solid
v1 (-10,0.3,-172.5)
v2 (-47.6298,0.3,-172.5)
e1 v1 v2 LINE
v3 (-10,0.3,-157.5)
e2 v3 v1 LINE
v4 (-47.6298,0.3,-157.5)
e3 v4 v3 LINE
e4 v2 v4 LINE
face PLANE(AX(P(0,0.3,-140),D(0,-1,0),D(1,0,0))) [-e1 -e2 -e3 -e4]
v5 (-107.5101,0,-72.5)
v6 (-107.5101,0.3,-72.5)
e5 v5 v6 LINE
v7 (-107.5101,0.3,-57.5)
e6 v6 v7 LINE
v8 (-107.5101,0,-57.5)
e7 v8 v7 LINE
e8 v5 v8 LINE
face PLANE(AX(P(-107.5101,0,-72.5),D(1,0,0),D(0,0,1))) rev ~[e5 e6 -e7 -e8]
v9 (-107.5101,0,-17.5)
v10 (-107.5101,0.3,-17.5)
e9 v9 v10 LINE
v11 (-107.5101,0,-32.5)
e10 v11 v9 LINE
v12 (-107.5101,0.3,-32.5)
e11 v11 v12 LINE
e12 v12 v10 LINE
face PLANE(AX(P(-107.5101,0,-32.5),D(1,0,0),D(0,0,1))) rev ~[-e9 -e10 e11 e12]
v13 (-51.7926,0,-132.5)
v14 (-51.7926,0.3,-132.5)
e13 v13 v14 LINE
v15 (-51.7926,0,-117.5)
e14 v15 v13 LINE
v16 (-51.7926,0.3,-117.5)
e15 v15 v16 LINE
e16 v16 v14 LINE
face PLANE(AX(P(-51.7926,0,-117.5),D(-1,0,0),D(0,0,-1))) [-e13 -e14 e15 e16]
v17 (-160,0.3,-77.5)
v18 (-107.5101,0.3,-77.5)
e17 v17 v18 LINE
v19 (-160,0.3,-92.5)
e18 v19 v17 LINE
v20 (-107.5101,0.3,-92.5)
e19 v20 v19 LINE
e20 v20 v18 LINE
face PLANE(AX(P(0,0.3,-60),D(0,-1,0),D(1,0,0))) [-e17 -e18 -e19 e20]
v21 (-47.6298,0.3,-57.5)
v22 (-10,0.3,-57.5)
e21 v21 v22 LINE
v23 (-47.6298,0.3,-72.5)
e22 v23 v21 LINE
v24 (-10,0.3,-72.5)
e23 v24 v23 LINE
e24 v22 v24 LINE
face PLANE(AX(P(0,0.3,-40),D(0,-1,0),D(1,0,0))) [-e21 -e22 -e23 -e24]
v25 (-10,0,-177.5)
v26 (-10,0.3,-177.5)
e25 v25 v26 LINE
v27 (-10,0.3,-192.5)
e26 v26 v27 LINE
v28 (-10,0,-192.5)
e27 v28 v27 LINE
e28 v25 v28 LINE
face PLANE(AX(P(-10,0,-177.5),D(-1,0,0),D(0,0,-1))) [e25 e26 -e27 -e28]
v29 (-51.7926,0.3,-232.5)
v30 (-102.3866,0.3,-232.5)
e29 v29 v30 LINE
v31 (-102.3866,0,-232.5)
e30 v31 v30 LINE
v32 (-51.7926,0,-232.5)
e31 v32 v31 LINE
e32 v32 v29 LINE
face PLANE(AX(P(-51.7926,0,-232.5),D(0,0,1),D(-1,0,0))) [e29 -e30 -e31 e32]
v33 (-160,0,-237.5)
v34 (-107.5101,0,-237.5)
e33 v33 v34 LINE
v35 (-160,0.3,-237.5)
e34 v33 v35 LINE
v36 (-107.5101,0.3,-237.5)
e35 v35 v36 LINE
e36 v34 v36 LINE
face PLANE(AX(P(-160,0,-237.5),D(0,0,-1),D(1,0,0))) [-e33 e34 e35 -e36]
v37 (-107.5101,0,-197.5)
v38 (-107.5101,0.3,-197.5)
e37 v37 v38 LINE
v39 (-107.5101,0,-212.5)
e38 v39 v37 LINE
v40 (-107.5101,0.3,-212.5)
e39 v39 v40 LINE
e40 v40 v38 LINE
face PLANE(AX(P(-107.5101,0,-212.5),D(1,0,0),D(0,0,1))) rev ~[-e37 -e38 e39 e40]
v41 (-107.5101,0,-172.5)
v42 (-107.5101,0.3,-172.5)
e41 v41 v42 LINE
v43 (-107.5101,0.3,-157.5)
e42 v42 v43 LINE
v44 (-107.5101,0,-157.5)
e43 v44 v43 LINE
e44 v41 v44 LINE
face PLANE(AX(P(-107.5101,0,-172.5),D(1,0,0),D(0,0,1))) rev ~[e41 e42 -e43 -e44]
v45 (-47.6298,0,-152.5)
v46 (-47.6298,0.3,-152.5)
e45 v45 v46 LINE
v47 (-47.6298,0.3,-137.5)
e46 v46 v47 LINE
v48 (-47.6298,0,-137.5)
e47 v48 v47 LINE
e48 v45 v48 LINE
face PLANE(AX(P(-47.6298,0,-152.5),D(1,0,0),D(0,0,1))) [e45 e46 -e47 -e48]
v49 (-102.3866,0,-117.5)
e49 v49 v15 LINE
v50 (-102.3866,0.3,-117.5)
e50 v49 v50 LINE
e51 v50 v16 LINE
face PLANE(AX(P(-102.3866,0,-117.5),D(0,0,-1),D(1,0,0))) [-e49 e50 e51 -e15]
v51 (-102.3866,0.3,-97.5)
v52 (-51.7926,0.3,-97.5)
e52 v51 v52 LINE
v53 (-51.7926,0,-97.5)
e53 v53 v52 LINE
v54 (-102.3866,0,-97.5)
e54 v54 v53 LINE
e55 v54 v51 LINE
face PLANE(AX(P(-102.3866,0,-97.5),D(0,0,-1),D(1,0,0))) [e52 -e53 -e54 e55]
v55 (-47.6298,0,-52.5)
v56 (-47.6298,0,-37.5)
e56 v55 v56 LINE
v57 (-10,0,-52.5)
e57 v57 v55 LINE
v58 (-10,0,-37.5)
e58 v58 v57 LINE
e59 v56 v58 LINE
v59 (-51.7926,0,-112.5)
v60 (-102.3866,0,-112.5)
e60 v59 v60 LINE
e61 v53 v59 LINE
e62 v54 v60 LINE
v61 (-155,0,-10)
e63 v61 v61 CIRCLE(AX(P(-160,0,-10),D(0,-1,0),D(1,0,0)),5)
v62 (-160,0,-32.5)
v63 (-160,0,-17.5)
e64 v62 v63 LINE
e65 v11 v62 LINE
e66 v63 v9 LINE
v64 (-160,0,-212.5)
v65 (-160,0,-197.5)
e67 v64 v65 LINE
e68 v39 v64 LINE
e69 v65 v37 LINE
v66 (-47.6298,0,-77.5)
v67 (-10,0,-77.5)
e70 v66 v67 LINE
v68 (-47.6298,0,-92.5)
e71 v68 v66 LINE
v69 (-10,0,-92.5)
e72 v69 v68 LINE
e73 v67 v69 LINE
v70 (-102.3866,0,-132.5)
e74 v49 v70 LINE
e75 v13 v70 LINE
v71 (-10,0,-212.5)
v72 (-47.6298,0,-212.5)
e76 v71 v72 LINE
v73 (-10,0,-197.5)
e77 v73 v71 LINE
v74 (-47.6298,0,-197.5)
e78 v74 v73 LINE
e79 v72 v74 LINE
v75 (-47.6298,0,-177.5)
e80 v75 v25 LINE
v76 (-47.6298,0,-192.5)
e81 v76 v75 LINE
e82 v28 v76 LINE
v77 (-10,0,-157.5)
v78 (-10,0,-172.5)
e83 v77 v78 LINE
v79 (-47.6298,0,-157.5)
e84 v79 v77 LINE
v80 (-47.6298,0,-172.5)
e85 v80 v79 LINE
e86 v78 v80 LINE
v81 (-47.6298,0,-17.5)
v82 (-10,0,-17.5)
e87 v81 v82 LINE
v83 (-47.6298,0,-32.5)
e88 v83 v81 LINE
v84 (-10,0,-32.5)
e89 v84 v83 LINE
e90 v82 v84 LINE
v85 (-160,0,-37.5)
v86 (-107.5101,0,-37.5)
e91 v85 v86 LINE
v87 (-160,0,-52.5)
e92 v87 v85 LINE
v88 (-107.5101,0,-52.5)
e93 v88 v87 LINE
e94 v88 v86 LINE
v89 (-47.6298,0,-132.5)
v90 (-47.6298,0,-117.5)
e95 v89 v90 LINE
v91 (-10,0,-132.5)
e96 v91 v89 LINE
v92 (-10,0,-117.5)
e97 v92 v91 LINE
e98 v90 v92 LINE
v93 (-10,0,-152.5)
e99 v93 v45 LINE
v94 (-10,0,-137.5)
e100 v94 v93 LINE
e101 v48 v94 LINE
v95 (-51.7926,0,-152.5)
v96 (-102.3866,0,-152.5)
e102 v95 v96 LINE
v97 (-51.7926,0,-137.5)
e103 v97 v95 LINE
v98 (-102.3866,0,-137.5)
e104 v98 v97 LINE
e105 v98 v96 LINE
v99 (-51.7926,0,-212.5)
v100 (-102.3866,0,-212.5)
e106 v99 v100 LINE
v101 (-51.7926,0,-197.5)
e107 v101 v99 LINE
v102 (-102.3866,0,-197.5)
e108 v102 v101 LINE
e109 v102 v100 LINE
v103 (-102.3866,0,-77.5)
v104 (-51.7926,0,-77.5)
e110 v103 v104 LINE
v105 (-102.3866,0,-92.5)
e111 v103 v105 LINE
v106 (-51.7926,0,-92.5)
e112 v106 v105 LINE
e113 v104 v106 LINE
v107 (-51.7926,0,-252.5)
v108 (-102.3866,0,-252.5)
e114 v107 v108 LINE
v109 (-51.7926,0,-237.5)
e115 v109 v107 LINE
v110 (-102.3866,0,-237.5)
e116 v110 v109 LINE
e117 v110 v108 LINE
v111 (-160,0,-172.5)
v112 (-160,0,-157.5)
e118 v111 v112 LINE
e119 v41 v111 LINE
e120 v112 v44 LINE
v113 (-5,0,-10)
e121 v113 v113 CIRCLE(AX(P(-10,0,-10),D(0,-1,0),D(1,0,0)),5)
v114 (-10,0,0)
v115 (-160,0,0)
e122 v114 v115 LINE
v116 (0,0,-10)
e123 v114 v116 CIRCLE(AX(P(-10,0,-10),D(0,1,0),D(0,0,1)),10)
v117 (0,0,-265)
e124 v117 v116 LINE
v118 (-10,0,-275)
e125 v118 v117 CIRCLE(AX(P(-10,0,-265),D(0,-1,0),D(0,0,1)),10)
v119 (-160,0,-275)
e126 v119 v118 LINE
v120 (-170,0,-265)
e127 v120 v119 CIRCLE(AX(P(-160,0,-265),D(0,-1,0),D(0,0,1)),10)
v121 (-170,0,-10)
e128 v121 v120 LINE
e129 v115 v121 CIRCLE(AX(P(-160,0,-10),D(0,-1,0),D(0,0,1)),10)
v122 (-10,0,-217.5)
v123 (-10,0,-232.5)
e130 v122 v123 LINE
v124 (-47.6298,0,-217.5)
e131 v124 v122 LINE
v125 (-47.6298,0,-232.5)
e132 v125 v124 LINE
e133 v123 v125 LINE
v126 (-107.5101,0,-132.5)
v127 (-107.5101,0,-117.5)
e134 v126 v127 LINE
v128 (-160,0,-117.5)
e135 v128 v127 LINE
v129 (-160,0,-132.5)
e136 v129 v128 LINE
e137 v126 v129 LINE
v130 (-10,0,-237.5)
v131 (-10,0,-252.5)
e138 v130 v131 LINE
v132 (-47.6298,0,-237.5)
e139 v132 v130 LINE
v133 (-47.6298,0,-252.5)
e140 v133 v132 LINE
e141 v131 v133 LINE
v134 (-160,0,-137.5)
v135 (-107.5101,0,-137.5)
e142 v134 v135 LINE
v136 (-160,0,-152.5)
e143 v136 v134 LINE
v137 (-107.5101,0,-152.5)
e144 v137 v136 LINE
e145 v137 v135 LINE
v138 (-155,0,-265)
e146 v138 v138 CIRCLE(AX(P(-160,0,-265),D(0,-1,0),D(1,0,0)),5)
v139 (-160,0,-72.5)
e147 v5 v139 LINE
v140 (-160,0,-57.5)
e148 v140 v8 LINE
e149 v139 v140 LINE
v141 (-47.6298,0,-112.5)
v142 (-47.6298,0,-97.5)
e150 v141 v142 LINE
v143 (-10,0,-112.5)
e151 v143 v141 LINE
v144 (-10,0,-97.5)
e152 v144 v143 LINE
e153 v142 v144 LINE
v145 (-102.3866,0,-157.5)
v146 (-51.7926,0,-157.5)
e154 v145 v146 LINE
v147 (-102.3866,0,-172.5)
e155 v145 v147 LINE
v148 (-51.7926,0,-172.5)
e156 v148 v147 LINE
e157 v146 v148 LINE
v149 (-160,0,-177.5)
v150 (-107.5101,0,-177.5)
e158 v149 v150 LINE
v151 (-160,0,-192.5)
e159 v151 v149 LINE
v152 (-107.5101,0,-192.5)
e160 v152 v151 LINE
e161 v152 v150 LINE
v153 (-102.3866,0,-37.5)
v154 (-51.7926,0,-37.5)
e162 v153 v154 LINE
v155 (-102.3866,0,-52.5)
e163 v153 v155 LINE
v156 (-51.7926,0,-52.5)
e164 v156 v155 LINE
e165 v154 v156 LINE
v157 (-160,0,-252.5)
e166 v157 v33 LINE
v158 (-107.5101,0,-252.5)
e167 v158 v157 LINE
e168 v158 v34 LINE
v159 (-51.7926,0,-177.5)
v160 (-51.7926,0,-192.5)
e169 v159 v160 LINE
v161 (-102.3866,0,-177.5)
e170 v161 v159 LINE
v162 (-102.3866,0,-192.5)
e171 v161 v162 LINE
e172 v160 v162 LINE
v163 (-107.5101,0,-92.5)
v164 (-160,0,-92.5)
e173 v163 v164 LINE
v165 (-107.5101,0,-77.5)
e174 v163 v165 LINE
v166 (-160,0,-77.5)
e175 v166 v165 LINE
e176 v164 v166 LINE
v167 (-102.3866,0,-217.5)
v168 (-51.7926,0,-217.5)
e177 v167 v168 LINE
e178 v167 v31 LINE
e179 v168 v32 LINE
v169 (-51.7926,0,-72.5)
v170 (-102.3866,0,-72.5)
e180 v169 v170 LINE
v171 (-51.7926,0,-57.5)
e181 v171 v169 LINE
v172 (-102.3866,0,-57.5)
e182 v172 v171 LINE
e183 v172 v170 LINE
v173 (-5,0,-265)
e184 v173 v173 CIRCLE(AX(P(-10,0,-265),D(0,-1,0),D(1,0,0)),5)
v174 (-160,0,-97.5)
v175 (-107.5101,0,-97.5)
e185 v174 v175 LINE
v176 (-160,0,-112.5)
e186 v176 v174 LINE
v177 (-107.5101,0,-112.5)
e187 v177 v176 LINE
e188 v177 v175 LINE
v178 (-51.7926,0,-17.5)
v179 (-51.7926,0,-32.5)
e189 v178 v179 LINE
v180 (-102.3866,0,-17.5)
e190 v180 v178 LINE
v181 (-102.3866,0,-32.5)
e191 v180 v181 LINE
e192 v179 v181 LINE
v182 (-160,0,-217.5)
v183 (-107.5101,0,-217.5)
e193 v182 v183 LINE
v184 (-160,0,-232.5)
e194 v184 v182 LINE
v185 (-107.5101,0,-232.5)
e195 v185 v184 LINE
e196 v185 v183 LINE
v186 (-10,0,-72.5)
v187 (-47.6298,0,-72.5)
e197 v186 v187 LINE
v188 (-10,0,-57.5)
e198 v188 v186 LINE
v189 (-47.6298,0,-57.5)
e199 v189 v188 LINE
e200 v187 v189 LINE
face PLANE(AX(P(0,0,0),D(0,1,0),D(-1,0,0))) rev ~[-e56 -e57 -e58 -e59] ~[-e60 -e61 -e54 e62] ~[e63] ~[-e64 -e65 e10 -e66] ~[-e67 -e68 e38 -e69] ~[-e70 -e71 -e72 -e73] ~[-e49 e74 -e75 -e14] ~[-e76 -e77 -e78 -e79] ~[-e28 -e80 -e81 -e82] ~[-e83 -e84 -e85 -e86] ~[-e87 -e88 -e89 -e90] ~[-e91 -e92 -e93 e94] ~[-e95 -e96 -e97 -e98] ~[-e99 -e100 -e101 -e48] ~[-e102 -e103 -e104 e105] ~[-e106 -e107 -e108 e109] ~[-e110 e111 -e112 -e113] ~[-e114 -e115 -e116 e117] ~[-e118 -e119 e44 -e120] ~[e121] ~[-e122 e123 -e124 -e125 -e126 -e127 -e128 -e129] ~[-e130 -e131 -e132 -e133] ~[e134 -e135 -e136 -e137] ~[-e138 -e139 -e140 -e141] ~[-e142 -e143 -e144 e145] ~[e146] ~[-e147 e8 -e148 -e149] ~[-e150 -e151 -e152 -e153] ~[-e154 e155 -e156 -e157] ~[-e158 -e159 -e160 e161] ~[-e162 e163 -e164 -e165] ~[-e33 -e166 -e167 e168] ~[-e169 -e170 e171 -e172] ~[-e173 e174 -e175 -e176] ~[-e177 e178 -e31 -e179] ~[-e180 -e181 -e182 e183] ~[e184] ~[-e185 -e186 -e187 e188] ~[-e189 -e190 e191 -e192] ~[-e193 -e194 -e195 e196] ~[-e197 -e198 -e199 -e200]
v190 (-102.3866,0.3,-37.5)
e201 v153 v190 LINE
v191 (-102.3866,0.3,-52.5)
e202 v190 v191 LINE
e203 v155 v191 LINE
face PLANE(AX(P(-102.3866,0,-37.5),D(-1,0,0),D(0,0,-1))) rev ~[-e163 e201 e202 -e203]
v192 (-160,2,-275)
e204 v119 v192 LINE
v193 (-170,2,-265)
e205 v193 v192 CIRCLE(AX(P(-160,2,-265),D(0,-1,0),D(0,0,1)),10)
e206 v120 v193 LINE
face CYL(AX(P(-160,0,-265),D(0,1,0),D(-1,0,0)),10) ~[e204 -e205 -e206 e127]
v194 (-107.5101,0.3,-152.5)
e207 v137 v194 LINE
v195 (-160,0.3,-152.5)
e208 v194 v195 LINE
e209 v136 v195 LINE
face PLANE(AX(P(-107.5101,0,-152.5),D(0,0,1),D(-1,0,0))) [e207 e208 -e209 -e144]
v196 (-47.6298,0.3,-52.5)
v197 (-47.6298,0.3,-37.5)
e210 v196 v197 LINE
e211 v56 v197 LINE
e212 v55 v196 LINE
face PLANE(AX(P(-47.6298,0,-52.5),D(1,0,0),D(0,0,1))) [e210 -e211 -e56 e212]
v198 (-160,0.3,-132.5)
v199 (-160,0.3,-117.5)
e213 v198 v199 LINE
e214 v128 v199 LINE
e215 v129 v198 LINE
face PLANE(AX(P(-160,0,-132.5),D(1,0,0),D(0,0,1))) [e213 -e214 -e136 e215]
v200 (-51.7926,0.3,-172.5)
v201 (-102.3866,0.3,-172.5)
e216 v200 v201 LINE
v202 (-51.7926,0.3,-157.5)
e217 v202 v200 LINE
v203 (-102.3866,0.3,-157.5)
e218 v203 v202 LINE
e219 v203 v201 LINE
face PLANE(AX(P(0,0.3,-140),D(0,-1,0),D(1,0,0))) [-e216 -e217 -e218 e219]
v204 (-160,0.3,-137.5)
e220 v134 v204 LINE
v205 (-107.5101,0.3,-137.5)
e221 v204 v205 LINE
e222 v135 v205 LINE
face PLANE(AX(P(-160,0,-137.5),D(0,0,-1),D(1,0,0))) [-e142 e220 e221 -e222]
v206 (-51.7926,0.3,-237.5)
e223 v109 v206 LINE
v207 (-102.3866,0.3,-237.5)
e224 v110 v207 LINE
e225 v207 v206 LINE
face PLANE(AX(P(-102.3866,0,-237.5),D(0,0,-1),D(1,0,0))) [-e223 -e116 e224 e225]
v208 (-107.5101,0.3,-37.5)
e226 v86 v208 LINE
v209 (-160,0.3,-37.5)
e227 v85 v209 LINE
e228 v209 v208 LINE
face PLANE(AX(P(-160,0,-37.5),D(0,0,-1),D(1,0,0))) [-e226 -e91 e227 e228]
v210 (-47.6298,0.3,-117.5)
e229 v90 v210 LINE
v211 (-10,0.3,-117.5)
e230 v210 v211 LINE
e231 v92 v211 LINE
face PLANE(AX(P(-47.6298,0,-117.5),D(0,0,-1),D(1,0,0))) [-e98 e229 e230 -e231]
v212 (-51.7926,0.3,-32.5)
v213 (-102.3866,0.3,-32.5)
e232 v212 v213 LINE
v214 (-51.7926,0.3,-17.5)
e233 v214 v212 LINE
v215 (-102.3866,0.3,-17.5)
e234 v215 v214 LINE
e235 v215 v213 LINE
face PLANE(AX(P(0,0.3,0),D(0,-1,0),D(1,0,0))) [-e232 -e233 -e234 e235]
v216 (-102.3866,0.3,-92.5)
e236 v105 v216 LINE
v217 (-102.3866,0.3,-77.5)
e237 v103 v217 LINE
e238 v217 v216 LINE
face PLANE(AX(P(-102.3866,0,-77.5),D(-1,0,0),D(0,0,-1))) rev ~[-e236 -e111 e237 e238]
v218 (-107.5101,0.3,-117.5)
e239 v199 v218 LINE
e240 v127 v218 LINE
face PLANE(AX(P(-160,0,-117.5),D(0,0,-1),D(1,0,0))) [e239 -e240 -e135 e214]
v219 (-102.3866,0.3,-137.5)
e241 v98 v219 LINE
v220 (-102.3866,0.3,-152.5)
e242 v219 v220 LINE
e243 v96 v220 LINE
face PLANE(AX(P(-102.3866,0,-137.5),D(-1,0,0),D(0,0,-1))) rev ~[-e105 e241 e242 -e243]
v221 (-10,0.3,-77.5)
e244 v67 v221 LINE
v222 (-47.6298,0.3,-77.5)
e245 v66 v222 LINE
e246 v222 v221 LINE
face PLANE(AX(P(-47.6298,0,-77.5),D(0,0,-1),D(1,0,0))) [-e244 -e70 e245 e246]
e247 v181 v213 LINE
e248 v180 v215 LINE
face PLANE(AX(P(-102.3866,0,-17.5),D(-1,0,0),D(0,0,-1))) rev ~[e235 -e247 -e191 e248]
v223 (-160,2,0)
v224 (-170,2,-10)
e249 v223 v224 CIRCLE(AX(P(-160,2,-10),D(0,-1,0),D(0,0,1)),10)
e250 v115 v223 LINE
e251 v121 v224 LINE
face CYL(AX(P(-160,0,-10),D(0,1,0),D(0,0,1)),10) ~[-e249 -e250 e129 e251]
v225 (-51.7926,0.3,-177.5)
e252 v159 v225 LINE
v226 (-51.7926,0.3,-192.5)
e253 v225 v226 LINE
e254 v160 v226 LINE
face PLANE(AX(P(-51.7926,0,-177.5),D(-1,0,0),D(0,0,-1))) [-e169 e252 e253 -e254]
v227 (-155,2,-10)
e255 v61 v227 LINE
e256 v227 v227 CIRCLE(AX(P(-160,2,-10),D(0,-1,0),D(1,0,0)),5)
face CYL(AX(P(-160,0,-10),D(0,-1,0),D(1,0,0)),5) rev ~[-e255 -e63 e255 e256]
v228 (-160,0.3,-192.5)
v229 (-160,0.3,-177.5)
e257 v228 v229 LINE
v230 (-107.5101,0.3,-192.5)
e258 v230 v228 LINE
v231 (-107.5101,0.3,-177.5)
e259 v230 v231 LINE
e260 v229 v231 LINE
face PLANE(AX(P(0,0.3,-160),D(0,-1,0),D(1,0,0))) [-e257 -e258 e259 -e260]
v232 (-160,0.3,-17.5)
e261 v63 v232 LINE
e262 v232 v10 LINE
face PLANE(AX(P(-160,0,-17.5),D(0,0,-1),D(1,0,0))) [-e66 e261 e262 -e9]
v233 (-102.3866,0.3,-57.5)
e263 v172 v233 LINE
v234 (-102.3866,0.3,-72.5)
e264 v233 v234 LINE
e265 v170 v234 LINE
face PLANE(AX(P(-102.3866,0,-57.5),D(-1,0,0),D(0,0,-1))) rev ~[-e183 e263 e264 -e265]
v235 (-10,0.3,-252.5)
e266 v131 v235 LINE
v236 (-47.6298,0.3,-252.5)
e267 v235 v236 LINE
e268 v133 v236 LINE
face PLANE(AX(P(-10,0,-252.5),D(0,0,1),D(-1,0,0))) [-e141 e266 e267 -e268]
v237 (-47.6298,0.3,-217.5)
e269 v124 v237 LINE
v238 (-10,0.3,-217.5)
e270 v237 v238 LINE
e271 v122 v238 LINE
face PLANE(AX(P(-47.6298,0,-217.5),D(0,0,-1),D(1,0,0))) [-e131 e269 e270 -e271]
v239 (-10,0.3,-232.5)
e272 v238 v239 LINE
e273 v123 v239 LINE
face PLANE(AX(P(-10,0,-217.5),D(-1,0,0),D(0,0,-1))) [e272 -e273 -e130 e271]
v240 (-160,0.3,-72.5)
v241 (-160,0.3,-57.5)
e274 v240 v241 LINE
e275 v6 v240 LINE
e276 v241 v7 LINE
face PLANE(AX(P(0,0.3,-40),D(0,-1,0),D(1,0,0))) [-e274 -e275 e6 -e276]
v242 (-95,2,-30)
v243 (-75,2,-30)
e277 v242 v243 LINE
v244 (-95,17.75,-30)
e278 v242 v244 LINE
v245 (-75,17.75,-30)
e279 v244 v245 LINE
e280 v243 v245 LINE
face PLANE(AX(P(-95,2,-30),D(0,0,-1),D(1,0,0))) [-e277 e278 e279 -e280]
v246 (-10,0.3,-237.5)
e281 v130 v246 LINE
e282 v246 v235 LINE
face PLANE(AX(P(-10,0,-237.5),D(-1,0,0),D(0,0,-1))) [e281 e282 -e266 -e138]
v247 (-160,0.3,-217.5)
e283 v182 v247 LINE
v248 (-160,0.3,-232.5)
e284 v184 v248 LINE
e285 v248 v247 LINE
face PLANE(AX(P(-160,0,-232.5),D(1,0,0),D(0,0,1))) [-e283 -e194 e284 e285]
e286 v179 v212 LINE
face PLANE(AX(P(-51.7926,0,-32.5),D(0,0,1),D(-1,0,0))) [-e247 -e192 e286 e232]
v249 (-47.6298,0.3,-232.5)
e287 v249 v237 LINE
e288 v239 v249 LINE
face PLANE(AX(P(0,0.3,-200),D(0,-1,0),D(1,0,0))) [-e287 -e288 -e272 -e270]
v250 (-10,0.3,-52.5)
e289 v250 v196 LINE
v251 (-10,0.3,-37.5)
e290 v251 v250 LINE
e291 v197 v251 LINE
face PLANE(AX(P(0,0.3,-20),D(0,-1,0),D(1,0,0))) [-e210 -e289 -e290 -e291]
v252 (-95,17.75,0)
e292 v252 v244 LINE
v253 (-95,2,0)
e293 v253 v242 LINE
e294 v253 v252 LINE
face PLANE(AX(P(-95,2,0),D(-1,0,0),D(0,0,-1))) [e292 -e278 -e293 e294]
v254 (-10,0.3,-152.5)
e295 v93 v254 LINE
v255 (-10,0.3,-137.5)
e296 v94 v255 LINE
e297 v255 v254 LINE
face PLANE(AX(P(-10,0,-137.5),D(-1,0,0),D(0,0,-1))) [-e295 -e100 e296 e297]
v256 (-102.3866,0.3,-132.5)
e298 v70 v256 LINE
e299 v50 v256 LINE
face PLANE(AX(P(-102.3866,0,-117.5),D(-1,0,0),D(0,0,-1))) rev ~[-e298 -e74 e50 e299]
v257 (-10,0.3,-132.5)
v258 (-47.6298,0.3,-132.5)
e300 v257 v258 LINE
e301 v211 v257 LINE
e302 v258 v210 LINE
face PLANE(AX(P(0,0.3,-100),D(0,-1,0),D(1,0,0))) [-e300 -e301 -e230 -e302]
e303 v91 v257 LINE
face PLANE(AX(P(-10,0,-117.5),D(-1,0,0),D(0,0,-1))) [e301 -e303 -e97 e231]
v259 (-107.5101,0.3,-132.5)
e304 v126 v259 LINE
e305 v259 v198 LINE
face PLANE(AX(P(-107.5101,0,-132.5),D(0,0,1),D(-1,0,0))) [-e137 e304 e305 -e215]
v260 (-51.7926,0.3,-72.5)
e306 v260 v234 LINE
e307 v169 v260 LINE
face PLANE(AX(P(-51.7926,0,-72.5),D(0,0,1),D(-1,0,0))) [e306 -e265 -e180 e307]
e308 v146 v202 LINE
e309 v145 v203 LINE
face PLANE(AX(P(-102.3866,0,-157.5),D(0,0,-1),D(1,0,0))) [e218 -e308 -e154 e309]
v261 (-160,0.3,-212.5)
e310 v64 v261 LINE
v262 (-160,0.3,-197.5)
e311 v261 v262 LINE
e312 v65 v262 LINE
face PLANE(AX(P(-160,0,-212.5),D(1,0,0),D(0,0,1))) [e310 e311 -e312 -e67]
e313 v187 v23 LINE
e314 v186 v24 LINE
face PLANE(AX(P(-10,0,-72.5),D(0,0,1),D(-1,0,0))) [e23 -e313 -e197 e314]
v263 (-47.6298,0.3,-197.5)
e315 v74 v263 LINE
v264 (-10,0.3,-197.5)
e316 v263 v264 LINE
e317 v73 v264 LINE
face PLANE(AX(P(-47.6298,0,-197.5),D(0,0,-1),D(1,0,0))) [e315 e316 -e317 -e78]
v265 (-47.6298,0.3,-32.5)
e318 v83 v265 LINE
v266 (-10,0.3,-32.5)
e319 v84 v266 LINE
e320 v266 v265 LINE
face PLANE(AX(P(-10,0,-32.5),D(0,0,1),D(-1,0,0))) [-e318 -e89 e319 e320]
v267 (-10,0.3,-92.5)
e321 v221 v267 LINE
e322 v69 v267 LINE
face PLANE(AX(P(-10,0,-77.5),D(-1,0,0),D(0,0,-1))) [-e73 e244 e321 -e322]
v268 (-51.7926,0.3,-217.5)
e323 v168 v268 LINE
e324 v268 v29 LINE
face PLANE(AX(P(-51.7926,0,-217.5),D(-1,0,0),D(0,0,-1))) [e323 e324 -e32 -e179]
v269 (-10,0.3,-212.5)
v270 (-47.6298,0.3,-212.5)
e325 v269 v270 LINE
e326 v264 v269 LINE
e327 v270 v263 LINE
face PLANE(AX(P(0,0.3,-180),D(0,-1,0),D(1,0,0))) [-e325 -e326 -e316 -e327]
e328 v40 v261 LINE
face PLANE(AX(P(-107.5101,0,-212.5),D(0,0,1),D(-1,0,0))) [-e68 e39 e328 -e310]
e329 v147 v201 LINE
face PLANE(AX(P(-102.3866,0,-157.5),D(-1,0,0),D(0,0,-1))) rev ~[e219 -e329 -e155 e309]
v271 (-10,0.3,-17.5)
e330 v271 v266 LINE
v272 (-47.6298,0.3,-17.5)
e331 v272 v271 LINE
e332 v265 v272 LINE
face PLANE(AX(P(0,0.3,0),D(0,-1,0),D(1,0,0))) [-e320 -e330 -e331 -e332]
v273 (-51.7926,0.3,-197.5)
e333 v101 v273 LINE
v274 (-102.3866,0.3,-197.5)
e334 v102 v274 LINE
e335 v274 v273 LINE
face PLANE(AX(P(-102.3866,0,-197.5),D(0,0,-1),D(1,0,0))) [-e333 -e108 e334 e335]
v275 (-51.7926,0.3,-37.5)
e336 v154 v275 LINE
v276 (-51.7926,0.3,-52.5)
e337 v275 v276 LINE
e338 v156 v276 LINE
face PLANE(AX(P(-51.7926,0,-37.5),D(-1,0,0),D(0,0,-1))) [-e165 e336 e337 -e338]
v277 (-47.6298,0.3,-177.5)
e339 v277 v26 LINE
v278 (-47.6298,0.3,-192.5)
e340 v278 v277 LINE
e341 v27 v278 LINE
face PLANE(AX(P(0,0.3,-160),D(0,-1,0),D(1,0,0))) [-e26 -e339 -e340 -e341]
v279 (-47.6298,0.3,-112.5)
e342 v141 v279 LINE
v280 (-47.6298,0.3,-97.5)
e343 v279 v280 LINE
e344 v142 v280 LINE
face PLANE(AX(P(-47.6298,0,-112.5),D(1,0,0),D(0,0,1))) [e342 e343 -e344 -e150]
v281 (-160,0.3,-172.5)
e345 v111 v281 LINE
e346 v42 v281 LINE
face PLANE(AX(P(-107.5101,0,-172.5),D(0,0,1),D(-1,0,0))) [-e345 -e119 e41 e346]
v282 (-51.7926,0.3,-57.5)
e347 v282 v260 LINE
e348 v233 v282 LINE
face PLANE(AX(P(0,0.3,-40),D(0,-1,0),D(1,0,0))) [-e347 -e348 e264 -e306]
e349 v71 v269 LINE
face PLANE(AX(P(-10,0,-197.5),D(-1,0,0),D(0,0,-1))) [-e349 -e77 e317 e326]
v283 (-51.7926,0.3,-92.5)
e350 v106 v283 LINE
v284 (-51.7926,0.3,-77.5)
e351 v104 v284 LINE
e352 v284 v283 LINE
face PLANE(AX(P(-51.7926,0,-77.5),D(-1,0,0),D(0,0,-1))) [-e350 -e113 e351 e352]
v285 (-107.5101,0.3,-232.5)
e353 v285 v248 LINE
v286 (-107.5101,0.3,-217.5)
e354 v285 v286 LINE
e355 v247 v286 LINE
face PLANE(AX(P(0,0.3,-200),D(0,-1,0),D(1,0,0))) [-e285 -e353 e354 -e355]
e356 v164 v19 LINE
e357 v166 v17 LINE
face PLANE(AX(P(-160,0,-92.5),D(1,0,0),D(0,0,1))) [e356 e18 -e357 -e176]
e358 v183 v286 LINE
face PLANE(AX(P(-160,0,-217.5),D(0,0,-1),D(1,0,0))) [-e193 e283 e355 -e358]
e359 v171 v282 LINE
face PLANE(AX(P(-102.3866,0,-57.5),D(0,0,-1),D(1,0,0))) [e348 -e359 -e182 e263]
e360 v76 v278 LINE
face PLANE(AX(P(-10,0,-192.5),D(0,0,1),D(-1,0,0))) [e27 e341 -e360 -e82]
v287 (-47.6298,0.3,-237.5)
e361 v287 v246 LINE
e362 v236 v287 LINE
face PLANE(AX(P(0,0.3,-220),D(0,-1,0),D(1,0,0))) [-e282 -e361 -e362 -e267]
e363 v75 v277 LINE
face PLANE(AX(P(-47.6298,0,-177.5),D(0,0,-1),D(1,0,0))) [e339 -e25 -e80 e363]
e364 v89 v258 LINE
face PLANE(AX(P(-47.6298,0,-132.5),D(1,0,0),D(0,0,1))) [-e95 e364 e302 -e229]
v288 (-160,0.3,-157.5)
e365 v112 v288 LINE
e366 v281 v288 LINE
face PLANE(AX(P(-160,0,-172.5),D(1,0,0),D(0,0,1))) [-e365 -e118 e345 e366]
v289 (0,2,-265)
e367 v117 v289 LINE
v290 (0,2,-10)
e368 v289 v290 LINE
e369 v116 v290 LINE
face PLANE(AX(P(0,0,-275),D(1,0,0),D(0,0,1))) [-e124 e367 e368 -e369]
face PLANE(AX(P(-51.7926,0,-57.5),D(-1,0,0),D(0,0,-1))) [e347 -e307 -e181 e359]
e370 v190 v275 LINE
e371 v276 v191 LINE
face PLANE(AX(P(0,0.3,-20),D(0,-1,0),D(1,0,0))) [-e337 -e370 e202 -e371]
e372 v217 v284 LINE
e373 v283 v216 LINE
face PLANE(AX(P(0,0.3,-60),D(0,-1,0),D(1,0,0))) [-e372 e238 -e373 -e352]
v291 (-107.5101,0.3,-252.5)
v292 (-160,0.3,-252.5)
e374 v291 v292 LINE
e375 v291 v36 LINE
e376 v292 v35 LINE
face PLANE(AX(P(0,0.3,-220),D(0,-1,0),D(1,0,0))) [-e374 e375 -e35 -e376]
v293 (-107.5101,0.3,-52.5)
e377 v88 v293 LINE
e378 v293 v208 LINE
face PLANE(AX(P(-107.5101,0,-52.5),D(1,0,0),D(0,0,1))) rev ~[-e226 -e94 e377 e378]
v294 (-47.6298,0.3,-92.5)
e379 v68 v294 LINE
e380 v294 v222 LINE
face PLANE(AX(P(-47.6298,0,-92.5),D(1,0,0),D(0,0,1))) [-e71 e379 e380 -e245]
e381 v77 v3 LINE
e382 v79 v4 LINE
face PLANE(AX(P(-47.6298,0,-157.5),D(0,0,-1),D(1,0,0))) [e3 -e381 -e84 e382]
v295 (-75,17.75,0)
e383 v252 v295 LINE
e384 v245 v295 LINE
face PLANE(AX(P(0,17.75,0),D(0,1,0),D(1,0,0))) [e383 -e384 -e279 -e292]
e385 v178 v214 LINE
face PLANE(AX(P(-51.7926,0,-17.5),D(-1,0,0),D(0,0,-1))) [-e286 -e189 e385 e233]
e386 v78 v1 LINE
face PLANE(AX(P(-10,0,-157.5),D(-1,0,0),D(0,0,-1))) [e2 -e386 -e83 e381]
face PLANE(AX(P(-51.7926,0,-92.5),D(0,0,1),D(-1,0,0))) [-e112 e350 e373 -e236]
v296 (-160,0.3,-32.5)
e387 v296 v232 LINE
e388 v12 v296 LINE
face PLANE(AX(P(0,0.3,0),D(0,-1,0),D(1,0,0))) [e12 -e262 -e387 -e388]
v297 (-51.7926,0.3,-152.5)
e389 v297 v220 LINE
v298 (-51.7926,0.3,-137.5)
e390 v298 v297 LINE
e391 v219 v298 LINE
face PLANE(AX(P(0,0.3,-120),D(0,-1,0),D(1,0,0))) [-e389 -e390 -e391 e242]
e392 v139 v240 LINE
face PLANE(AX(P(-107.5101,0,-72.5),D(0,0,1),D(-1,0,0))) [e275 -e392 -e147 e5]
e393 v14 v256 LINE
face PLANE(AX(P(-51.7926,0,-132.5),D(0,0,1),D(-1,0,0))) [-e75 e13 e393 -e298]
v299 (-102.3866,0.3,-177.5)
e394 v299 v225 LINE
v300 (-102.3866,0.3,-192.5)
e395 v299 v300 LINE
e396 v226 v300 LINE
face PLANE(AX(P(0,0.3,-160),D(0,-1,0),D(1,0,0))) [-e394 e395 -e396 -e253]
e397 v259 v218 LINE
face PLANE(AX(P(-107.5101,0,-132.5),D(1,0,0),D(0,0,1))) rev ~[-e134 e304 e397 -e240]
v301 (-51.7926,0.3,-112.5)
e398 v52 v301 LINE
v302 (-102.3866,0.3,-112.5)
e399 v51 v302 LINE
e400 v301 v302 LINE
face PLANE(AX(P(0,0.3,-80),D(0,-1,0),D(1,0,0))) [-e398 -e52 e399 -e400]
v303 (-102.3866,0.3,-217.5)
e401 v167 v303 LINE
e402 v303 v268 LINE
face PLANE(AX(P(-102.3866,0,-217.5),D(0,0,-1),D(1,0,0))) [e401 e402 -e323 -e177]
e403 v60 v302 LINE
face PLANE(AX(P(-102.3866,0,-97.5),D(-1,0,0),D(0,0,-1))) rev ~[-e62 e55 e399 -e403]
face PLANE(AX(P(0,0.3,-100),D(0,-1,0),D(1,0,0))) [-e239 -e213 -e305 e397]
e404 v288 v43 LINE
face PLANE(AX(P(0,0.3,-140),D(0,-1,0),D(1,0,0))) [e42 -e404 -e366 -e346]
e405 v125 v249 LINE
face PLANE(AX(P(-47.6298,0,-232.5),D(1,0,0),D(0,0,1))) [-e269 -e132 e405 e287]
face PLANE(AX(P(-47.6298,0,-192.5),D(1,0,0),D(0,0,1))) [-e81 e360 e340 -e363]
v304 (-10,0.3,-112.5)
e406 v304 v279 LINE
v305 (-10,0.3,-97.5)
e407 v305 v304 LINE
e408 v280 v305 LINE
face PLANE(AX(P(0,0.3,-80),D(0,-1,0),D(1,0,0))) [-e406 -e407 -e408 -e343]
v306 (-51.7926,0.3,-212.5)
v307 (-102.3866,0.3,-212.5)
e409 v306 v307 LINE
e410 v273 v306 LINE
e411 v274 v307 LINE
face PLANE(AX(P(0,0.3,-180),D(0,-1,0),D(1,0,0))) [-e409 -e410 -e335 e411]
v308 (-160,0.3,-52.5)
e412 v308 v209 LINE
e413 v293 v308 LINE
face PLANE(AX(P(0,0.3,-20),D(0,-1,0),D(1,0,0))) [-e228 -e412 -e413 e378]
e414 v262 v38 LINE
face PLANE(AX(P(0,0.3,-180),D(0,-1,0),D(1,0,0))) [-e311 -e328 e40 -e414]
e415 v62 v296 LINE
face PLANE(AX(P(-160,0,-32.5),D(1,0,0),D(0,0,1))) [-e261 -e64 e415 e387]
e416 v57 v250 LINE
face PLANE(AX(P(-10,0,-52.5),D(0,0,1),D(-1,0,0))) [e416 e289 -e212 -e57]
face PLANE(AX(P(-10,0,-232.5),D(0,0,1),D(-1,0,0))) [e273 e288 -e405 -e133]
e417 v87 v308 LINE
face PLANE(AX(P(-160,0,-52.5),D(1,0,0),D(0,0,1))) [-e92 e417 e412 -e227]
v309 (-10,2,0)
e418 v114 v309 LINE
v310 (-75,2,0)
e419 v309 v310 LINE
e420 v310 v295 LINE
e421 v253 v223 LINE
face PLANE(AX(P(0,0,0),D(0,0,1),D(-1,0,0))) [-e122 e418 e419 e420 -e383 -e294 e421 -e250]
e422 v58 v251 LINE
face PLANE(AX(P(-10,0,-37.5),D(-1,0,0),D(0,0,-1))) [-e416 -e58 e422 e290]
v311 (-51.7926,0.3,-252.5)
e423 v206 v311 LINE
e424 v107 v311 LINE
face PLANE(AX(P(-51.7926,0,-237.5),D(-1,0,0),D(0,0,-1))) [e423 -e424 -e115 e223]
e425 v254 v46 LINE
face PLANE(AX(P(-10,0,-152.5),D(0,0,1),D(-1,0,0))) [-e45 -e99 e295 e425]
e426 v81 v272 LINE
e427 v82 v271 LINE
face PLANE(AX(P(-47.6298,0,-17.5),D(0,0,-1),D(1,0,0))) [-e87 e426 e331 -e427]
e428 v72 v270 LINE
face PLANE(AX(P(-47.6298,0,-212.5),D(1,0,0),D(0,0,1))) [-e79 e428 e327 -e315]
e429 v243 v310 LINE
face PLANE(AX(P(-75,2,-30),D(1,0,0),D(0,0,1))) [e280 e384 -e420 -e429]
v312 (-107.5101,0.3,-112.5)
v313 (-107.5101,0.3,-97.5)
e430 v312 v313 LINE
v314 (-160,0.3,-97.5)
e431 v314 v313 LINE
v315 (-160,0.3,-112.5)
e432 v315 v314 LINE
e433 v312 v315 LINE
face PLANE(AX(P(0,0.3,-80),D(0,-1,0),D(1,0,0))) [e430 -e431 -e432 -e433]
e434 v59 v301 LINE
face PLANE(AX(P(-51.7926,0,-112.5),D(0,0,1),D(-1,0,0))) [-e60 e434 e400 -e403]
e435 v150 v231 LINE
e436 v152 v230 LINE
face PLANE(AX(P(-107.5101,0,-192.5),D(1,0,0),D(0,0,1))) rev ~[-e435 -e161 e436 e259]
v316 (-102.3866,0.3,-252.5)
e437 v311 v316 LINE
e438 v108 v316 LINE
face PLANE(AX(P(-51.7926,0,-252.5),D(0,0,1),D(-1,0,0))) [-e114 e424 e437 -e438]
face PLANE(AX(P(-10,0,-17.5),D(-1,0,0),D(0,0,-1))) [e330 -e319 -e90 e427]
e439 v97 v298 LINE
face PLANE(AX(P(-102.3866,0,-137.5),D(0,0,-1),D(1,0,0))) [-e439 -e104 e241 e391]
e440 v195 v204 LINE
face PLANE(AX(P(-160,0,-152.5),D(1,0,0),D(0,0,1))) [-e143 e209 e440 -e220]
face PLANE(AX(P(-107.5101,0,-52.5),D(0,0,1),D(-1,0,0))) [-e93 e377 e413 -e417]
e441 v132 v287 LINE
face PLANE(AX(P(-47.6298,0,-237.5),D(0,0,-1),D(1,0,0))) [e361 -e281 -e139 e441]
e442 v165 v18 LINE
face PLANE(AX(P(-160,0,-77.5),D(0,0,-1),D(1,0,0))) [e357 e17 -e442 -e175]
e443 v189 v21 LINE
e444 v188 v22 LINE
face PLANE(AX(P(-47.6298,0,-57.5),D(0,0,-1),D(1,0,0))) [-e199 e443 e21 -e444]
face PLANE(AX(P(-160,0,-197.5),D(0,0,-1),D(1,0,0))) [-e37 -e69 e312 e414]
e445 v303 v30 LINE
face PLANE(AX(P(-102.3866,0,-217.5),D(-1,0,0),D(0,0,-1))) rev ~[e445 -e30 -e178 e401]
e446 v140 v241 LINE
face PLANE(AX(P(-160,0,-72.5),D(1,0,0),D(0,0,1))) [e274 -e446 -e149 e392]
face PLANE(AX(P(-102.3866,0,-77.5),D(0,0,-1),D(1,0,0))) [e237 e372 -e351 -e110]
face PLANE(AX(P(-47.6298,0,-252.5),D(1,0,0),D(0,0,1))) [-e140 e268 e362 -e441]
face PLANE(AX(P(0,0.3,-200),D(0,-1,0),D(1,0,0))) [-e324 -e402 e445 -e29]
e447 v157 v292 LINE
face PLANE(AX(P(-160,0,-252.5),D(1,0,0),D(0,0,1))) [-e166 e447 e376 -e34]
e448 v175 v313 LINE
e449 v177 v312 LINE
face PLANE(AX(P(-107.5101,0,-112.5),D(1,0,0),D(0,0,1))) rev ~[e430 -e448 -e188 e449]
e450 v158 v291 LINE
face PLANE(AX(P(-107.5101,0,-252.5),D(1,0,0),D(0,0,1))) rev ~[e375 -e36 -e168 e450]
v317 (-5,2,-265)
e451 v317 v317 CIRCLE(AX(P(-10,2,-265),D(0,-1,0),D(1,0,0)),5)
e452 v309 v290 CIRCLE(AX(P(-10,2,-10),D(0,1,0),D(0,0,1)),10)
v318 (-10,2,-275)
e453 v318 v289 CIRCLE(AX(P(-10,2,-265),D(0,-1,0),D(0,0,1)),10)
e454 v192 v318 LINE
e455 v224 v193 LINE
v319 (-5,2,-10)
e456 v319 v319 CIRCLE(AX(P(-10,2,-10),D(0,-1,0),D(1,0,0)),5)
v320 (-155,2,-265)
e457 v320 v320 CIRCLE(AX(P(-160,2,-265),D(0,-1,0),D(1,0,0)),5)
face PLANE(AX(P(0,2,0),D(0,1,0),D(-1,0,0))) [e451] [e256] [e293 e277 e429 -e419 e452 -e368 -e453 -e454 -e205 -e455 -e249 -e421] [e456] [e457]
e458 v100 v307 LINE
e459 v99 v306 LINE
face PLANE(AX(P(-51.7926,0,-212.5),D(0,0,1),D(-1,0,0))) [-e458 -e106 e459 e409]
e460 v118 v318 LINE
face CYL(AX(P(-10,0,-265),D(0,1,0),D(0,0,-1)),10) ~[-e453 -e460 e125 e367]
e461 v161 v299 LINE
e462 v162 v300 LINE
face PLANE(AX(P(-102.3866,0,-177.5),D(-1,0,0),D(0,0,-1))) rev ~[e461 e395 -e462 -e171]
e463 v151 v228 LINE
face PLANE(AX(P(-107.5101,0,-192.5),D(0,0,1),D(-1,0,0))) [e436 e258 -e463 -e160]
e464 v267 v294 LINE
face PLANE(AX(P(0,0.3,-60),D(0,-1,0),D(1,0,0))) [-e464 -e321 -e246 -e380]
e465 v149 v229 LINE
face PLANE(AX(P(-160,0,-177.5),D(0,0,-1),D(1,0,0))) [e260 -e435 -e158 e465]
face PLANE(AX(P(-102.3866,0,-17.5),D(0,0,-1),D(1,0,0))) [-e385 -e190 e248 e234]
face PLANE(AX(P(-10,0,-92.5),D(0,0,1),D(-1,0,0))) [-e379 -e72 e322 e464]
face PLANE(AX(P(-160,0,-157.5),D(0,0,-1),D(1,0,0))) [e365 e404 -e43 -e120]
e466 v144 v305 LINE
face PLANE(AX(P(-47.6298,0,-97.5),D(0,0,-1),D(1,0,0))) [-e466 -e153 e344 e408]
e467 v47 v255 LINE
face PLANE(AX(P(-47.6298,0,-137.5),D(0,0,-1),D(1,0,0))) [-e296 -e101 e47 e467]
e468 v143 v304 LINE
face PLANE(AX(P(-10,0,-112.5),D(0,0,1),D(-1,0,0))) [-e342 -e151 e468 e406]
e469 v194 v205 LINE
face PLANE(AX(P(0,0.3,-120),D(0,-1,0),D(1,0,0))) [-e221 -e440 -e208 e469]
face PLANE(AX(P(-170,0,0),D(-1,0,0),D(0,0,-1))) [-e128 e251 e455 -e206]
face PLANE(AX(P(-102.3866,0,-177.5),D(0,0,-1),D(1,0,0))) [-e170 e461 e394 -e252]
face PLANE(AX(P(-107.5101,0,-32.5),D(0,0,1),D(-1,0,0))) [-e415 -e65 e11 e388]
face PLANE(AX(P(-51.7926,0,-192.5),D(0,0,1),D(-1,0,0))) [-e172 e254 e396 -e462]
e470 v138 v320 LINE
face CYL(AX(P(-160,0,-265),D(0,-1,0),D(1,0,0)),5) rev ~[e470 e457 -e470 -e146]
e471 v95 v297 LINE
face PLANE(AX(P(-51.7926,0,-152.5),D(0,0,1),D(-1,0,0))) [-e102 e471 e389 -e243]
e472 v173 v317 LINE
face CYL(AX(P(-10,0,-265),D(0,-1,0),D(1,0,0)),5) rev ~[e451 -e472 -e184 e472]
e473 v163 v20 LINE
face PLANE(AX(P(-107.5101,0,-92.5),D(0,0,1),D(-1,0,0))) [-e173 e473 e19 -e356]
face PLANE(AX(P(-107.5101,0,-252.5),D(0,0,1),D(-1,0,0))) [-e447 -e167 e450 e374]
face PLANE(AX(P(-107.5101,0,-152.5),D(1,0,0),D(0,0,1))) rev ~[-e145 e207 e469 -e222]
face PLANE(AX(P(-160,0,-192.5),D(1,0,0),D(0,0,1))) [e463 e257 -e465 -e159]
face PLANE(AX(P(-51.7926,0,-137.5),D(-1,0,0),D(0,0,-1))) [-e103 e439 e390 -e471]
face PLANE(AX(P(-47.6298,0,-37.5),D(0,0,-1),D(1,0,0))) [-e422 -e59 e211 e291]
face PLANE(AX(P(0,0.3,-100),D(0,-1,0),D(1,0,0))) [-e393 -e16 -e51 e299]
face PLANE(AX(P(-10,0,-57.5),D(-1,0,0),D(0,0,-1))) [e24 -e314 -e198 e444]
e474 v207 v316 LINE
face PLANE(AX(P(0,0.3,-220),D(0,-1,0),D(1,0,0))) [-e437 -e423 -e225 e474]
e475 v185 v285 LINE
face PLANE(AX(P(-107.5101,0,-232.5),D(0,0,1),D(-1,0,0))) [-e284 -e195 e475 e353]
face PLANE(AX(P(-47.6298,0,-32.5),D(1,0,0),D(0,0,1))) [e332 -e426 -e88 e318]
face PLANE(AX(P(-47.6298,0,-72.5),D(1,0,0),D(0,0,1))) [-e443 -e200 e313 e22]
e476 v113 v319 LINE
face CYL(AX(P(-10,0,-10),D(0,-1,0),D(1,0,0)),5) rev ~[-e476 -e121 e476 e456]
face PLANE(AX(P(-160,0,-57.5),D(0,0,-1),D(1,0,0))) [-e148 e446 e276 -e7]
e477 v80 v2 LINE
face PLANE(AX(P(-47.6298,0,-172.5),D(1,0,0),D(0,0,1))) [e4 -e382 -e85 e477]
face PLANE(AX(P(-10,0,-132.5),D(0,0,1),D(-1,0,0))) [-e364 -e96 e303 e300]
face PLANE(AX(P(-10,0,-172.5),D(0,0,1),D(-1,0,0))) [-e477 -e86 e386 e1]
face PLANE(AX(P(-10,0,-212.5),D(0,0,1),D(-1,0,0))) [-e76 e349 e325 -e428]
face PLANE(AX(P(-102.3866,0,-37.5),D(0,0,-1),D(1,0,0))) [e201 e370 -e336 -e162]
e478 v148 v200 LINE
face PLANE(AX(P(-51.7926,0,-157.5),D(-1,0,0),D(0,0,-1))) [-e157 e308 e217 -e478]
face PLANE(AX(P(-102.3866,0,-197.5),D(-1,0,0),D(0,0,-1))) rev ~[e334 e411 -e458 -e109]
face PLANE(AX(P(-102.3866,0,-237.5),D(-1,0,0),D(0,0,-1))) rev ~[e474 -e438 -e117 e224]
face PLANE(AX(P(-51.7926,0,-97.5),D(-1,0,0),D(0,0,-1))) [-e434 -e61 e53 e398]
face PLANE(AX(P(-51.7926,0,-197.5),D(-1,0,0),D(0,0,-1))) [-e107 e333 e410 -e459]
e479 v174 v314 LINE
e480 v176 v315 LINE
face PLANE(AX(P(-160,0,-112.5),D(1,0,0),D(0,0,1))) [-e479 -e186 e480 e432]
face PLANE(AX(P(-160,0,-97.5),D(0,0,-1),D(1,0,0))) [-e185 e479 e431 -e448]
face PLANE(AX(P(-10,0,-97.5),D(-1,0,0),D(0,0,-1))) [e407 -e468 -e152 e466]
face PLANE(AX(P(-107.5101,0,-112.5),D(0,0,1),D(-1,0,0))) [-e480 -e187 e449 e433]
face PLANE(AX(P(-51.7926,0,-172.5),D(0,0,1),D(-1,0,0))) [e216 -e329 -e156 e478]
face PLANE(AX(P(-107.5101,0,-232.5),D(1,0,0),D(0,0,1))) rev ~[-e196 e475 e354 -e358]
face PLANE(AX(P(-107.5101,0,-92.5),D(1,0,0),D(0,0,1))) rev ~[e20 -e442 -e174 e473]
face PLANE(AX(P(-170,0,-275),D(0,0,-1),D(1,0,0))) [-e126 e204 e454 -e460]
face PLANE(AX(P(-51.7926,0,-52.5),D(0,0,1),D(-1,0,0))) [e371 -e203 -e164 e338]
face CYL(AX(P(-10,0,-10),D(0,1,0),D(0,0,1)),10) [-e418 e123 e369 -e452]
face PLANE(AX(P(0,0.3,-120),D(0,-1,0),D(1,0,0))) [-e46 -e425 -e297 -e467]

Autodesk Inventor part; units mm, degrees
ref_plane "YZ Plane" through (0, 0, 0) normal (1, 0, 0) x (0, 1, 0)
ref_plane "XZ Plane" through (0, 0, 0) normal (0, 1, 0) x (-1, 0, 0)
ref_plane "XY Plane" through (0, 0, 0) normal (0, 0, 1) x (1, 0, 0)
sketch "Sketch1" plane through (0, 0, 0) normal (0, 1, 0) x (-1, 0, 0)
  line L0 (0, 0) -> (170, 0)
  line L1 (170, 0) -> (170, -275)
  line L2 (170, -275) -> (0, -275)
  line L3 (0, -275) -> (0, 0)
  dimension "d0" = 170
  dimension "d1" = 275
extrude "Extrusion1" add sketch "Sketch1" along normal blind 2
fillet "Fillet1" radius 10 4 edges at (0, 1, 0) (-170, 1, 0) (0, 1, -275) (-170, 1, -275)
sketch "Sketch2" plane through (0, 2, 0) normal (0, 1, 0) x (1, 0, 0)
  line L0 (-160, 0) -> (-10, 0) projected
  line L1 (-75, 0) -> (-95, 0)
  line L2 (-95, 0) -> (-95, 30)
  line L3 (-95, 30) -> (-75, 30)
  line L4 (-75, 30) -> (-75, 0)
  line L5 (-85, 0) -> (-85, 30) construction
  line L6 (0, 10) -> (0, 265) construction
  point P0 (0, 0)
  dimension "d5" = 85
  dimension "d6" = 30
  dimension "d7" = 20
extrude "Extrusion2" add sketch "Sketch2" along normal blind 15.75
sketch "Sketch3" plane through (0, 0, 0) normal (0, -1, 0) x (1, 0, 0)
  line L0 (-160, 0) -> (-10, 0) construction
  line L1 (-85, 0) -> (-85, -25) construction
  line L2 (-160, -17.5) -> (-10, -17.5)
  line L3 (-10, -17.5) -> (-10, -32.5)
  line L4 (-10, -32.5) -> (-160, -32.5)
  line L5 (-160, -32.5) -> (-160, -17.5)
  line L6 (-160, -17.5) -> (-10, -32.5) construction
  line L7 (-10, -17.5) -> (-160, -32.5) construction
  line L8 (-51.7926, -17.5) -> (-51.7926, -32.5)
  line L9 (-47.6298, -32.5) -> (-47.6298, -17.5)
  line L10 (-102.3866, -17.5) -> (-102.3866, -32.5)
  line L11 (-107.5101, -32.5) -> (-107.5101, -17.5)
  point P0 (0, 0)
  dimension "d10" = 15
  dimension "d11" = 150
  dimension "d17" = 25
extrude "Extrusion3" cut sketch "Sketch3" against normal blind 0.3 contours L2 L11 L4 L5 | L2 L8 L4 L10 | L2 L3 L4 L9
pattern_linear "Rectangular Pattern1" count 12 spacing 20 along (0, 0, -1) of "Extrusion3"
sketch "Sketch4" plane through (0, 0, 0) normal (0, -1, 0) x (1, 0, 0)
  arc A0 (0, -10) -> (-10, 0) centre (-10, -10) ccw projected
  circle A1 centre (-10, -10) radius 5
  line L0 (0, -10) -> (0, -265) projected
  line L1 (-160, 0) -> (-10, 0) projected
  circle A2 centre (-10, -265) radius 5
  circle A3 centre (-160, -10) radius 5
  circle A4 centre (-160, -265) radius 5
  point P0 (0, 0)
  dimension "d18" = 10
  dimension "d21" = 255
  dimension "d24" = 150
extrude "Extrusion4" cut sketch "Sketch4" against normal through all
equation "\"d5\" = 0.5 * d0"
properties part number "solar_panel"
